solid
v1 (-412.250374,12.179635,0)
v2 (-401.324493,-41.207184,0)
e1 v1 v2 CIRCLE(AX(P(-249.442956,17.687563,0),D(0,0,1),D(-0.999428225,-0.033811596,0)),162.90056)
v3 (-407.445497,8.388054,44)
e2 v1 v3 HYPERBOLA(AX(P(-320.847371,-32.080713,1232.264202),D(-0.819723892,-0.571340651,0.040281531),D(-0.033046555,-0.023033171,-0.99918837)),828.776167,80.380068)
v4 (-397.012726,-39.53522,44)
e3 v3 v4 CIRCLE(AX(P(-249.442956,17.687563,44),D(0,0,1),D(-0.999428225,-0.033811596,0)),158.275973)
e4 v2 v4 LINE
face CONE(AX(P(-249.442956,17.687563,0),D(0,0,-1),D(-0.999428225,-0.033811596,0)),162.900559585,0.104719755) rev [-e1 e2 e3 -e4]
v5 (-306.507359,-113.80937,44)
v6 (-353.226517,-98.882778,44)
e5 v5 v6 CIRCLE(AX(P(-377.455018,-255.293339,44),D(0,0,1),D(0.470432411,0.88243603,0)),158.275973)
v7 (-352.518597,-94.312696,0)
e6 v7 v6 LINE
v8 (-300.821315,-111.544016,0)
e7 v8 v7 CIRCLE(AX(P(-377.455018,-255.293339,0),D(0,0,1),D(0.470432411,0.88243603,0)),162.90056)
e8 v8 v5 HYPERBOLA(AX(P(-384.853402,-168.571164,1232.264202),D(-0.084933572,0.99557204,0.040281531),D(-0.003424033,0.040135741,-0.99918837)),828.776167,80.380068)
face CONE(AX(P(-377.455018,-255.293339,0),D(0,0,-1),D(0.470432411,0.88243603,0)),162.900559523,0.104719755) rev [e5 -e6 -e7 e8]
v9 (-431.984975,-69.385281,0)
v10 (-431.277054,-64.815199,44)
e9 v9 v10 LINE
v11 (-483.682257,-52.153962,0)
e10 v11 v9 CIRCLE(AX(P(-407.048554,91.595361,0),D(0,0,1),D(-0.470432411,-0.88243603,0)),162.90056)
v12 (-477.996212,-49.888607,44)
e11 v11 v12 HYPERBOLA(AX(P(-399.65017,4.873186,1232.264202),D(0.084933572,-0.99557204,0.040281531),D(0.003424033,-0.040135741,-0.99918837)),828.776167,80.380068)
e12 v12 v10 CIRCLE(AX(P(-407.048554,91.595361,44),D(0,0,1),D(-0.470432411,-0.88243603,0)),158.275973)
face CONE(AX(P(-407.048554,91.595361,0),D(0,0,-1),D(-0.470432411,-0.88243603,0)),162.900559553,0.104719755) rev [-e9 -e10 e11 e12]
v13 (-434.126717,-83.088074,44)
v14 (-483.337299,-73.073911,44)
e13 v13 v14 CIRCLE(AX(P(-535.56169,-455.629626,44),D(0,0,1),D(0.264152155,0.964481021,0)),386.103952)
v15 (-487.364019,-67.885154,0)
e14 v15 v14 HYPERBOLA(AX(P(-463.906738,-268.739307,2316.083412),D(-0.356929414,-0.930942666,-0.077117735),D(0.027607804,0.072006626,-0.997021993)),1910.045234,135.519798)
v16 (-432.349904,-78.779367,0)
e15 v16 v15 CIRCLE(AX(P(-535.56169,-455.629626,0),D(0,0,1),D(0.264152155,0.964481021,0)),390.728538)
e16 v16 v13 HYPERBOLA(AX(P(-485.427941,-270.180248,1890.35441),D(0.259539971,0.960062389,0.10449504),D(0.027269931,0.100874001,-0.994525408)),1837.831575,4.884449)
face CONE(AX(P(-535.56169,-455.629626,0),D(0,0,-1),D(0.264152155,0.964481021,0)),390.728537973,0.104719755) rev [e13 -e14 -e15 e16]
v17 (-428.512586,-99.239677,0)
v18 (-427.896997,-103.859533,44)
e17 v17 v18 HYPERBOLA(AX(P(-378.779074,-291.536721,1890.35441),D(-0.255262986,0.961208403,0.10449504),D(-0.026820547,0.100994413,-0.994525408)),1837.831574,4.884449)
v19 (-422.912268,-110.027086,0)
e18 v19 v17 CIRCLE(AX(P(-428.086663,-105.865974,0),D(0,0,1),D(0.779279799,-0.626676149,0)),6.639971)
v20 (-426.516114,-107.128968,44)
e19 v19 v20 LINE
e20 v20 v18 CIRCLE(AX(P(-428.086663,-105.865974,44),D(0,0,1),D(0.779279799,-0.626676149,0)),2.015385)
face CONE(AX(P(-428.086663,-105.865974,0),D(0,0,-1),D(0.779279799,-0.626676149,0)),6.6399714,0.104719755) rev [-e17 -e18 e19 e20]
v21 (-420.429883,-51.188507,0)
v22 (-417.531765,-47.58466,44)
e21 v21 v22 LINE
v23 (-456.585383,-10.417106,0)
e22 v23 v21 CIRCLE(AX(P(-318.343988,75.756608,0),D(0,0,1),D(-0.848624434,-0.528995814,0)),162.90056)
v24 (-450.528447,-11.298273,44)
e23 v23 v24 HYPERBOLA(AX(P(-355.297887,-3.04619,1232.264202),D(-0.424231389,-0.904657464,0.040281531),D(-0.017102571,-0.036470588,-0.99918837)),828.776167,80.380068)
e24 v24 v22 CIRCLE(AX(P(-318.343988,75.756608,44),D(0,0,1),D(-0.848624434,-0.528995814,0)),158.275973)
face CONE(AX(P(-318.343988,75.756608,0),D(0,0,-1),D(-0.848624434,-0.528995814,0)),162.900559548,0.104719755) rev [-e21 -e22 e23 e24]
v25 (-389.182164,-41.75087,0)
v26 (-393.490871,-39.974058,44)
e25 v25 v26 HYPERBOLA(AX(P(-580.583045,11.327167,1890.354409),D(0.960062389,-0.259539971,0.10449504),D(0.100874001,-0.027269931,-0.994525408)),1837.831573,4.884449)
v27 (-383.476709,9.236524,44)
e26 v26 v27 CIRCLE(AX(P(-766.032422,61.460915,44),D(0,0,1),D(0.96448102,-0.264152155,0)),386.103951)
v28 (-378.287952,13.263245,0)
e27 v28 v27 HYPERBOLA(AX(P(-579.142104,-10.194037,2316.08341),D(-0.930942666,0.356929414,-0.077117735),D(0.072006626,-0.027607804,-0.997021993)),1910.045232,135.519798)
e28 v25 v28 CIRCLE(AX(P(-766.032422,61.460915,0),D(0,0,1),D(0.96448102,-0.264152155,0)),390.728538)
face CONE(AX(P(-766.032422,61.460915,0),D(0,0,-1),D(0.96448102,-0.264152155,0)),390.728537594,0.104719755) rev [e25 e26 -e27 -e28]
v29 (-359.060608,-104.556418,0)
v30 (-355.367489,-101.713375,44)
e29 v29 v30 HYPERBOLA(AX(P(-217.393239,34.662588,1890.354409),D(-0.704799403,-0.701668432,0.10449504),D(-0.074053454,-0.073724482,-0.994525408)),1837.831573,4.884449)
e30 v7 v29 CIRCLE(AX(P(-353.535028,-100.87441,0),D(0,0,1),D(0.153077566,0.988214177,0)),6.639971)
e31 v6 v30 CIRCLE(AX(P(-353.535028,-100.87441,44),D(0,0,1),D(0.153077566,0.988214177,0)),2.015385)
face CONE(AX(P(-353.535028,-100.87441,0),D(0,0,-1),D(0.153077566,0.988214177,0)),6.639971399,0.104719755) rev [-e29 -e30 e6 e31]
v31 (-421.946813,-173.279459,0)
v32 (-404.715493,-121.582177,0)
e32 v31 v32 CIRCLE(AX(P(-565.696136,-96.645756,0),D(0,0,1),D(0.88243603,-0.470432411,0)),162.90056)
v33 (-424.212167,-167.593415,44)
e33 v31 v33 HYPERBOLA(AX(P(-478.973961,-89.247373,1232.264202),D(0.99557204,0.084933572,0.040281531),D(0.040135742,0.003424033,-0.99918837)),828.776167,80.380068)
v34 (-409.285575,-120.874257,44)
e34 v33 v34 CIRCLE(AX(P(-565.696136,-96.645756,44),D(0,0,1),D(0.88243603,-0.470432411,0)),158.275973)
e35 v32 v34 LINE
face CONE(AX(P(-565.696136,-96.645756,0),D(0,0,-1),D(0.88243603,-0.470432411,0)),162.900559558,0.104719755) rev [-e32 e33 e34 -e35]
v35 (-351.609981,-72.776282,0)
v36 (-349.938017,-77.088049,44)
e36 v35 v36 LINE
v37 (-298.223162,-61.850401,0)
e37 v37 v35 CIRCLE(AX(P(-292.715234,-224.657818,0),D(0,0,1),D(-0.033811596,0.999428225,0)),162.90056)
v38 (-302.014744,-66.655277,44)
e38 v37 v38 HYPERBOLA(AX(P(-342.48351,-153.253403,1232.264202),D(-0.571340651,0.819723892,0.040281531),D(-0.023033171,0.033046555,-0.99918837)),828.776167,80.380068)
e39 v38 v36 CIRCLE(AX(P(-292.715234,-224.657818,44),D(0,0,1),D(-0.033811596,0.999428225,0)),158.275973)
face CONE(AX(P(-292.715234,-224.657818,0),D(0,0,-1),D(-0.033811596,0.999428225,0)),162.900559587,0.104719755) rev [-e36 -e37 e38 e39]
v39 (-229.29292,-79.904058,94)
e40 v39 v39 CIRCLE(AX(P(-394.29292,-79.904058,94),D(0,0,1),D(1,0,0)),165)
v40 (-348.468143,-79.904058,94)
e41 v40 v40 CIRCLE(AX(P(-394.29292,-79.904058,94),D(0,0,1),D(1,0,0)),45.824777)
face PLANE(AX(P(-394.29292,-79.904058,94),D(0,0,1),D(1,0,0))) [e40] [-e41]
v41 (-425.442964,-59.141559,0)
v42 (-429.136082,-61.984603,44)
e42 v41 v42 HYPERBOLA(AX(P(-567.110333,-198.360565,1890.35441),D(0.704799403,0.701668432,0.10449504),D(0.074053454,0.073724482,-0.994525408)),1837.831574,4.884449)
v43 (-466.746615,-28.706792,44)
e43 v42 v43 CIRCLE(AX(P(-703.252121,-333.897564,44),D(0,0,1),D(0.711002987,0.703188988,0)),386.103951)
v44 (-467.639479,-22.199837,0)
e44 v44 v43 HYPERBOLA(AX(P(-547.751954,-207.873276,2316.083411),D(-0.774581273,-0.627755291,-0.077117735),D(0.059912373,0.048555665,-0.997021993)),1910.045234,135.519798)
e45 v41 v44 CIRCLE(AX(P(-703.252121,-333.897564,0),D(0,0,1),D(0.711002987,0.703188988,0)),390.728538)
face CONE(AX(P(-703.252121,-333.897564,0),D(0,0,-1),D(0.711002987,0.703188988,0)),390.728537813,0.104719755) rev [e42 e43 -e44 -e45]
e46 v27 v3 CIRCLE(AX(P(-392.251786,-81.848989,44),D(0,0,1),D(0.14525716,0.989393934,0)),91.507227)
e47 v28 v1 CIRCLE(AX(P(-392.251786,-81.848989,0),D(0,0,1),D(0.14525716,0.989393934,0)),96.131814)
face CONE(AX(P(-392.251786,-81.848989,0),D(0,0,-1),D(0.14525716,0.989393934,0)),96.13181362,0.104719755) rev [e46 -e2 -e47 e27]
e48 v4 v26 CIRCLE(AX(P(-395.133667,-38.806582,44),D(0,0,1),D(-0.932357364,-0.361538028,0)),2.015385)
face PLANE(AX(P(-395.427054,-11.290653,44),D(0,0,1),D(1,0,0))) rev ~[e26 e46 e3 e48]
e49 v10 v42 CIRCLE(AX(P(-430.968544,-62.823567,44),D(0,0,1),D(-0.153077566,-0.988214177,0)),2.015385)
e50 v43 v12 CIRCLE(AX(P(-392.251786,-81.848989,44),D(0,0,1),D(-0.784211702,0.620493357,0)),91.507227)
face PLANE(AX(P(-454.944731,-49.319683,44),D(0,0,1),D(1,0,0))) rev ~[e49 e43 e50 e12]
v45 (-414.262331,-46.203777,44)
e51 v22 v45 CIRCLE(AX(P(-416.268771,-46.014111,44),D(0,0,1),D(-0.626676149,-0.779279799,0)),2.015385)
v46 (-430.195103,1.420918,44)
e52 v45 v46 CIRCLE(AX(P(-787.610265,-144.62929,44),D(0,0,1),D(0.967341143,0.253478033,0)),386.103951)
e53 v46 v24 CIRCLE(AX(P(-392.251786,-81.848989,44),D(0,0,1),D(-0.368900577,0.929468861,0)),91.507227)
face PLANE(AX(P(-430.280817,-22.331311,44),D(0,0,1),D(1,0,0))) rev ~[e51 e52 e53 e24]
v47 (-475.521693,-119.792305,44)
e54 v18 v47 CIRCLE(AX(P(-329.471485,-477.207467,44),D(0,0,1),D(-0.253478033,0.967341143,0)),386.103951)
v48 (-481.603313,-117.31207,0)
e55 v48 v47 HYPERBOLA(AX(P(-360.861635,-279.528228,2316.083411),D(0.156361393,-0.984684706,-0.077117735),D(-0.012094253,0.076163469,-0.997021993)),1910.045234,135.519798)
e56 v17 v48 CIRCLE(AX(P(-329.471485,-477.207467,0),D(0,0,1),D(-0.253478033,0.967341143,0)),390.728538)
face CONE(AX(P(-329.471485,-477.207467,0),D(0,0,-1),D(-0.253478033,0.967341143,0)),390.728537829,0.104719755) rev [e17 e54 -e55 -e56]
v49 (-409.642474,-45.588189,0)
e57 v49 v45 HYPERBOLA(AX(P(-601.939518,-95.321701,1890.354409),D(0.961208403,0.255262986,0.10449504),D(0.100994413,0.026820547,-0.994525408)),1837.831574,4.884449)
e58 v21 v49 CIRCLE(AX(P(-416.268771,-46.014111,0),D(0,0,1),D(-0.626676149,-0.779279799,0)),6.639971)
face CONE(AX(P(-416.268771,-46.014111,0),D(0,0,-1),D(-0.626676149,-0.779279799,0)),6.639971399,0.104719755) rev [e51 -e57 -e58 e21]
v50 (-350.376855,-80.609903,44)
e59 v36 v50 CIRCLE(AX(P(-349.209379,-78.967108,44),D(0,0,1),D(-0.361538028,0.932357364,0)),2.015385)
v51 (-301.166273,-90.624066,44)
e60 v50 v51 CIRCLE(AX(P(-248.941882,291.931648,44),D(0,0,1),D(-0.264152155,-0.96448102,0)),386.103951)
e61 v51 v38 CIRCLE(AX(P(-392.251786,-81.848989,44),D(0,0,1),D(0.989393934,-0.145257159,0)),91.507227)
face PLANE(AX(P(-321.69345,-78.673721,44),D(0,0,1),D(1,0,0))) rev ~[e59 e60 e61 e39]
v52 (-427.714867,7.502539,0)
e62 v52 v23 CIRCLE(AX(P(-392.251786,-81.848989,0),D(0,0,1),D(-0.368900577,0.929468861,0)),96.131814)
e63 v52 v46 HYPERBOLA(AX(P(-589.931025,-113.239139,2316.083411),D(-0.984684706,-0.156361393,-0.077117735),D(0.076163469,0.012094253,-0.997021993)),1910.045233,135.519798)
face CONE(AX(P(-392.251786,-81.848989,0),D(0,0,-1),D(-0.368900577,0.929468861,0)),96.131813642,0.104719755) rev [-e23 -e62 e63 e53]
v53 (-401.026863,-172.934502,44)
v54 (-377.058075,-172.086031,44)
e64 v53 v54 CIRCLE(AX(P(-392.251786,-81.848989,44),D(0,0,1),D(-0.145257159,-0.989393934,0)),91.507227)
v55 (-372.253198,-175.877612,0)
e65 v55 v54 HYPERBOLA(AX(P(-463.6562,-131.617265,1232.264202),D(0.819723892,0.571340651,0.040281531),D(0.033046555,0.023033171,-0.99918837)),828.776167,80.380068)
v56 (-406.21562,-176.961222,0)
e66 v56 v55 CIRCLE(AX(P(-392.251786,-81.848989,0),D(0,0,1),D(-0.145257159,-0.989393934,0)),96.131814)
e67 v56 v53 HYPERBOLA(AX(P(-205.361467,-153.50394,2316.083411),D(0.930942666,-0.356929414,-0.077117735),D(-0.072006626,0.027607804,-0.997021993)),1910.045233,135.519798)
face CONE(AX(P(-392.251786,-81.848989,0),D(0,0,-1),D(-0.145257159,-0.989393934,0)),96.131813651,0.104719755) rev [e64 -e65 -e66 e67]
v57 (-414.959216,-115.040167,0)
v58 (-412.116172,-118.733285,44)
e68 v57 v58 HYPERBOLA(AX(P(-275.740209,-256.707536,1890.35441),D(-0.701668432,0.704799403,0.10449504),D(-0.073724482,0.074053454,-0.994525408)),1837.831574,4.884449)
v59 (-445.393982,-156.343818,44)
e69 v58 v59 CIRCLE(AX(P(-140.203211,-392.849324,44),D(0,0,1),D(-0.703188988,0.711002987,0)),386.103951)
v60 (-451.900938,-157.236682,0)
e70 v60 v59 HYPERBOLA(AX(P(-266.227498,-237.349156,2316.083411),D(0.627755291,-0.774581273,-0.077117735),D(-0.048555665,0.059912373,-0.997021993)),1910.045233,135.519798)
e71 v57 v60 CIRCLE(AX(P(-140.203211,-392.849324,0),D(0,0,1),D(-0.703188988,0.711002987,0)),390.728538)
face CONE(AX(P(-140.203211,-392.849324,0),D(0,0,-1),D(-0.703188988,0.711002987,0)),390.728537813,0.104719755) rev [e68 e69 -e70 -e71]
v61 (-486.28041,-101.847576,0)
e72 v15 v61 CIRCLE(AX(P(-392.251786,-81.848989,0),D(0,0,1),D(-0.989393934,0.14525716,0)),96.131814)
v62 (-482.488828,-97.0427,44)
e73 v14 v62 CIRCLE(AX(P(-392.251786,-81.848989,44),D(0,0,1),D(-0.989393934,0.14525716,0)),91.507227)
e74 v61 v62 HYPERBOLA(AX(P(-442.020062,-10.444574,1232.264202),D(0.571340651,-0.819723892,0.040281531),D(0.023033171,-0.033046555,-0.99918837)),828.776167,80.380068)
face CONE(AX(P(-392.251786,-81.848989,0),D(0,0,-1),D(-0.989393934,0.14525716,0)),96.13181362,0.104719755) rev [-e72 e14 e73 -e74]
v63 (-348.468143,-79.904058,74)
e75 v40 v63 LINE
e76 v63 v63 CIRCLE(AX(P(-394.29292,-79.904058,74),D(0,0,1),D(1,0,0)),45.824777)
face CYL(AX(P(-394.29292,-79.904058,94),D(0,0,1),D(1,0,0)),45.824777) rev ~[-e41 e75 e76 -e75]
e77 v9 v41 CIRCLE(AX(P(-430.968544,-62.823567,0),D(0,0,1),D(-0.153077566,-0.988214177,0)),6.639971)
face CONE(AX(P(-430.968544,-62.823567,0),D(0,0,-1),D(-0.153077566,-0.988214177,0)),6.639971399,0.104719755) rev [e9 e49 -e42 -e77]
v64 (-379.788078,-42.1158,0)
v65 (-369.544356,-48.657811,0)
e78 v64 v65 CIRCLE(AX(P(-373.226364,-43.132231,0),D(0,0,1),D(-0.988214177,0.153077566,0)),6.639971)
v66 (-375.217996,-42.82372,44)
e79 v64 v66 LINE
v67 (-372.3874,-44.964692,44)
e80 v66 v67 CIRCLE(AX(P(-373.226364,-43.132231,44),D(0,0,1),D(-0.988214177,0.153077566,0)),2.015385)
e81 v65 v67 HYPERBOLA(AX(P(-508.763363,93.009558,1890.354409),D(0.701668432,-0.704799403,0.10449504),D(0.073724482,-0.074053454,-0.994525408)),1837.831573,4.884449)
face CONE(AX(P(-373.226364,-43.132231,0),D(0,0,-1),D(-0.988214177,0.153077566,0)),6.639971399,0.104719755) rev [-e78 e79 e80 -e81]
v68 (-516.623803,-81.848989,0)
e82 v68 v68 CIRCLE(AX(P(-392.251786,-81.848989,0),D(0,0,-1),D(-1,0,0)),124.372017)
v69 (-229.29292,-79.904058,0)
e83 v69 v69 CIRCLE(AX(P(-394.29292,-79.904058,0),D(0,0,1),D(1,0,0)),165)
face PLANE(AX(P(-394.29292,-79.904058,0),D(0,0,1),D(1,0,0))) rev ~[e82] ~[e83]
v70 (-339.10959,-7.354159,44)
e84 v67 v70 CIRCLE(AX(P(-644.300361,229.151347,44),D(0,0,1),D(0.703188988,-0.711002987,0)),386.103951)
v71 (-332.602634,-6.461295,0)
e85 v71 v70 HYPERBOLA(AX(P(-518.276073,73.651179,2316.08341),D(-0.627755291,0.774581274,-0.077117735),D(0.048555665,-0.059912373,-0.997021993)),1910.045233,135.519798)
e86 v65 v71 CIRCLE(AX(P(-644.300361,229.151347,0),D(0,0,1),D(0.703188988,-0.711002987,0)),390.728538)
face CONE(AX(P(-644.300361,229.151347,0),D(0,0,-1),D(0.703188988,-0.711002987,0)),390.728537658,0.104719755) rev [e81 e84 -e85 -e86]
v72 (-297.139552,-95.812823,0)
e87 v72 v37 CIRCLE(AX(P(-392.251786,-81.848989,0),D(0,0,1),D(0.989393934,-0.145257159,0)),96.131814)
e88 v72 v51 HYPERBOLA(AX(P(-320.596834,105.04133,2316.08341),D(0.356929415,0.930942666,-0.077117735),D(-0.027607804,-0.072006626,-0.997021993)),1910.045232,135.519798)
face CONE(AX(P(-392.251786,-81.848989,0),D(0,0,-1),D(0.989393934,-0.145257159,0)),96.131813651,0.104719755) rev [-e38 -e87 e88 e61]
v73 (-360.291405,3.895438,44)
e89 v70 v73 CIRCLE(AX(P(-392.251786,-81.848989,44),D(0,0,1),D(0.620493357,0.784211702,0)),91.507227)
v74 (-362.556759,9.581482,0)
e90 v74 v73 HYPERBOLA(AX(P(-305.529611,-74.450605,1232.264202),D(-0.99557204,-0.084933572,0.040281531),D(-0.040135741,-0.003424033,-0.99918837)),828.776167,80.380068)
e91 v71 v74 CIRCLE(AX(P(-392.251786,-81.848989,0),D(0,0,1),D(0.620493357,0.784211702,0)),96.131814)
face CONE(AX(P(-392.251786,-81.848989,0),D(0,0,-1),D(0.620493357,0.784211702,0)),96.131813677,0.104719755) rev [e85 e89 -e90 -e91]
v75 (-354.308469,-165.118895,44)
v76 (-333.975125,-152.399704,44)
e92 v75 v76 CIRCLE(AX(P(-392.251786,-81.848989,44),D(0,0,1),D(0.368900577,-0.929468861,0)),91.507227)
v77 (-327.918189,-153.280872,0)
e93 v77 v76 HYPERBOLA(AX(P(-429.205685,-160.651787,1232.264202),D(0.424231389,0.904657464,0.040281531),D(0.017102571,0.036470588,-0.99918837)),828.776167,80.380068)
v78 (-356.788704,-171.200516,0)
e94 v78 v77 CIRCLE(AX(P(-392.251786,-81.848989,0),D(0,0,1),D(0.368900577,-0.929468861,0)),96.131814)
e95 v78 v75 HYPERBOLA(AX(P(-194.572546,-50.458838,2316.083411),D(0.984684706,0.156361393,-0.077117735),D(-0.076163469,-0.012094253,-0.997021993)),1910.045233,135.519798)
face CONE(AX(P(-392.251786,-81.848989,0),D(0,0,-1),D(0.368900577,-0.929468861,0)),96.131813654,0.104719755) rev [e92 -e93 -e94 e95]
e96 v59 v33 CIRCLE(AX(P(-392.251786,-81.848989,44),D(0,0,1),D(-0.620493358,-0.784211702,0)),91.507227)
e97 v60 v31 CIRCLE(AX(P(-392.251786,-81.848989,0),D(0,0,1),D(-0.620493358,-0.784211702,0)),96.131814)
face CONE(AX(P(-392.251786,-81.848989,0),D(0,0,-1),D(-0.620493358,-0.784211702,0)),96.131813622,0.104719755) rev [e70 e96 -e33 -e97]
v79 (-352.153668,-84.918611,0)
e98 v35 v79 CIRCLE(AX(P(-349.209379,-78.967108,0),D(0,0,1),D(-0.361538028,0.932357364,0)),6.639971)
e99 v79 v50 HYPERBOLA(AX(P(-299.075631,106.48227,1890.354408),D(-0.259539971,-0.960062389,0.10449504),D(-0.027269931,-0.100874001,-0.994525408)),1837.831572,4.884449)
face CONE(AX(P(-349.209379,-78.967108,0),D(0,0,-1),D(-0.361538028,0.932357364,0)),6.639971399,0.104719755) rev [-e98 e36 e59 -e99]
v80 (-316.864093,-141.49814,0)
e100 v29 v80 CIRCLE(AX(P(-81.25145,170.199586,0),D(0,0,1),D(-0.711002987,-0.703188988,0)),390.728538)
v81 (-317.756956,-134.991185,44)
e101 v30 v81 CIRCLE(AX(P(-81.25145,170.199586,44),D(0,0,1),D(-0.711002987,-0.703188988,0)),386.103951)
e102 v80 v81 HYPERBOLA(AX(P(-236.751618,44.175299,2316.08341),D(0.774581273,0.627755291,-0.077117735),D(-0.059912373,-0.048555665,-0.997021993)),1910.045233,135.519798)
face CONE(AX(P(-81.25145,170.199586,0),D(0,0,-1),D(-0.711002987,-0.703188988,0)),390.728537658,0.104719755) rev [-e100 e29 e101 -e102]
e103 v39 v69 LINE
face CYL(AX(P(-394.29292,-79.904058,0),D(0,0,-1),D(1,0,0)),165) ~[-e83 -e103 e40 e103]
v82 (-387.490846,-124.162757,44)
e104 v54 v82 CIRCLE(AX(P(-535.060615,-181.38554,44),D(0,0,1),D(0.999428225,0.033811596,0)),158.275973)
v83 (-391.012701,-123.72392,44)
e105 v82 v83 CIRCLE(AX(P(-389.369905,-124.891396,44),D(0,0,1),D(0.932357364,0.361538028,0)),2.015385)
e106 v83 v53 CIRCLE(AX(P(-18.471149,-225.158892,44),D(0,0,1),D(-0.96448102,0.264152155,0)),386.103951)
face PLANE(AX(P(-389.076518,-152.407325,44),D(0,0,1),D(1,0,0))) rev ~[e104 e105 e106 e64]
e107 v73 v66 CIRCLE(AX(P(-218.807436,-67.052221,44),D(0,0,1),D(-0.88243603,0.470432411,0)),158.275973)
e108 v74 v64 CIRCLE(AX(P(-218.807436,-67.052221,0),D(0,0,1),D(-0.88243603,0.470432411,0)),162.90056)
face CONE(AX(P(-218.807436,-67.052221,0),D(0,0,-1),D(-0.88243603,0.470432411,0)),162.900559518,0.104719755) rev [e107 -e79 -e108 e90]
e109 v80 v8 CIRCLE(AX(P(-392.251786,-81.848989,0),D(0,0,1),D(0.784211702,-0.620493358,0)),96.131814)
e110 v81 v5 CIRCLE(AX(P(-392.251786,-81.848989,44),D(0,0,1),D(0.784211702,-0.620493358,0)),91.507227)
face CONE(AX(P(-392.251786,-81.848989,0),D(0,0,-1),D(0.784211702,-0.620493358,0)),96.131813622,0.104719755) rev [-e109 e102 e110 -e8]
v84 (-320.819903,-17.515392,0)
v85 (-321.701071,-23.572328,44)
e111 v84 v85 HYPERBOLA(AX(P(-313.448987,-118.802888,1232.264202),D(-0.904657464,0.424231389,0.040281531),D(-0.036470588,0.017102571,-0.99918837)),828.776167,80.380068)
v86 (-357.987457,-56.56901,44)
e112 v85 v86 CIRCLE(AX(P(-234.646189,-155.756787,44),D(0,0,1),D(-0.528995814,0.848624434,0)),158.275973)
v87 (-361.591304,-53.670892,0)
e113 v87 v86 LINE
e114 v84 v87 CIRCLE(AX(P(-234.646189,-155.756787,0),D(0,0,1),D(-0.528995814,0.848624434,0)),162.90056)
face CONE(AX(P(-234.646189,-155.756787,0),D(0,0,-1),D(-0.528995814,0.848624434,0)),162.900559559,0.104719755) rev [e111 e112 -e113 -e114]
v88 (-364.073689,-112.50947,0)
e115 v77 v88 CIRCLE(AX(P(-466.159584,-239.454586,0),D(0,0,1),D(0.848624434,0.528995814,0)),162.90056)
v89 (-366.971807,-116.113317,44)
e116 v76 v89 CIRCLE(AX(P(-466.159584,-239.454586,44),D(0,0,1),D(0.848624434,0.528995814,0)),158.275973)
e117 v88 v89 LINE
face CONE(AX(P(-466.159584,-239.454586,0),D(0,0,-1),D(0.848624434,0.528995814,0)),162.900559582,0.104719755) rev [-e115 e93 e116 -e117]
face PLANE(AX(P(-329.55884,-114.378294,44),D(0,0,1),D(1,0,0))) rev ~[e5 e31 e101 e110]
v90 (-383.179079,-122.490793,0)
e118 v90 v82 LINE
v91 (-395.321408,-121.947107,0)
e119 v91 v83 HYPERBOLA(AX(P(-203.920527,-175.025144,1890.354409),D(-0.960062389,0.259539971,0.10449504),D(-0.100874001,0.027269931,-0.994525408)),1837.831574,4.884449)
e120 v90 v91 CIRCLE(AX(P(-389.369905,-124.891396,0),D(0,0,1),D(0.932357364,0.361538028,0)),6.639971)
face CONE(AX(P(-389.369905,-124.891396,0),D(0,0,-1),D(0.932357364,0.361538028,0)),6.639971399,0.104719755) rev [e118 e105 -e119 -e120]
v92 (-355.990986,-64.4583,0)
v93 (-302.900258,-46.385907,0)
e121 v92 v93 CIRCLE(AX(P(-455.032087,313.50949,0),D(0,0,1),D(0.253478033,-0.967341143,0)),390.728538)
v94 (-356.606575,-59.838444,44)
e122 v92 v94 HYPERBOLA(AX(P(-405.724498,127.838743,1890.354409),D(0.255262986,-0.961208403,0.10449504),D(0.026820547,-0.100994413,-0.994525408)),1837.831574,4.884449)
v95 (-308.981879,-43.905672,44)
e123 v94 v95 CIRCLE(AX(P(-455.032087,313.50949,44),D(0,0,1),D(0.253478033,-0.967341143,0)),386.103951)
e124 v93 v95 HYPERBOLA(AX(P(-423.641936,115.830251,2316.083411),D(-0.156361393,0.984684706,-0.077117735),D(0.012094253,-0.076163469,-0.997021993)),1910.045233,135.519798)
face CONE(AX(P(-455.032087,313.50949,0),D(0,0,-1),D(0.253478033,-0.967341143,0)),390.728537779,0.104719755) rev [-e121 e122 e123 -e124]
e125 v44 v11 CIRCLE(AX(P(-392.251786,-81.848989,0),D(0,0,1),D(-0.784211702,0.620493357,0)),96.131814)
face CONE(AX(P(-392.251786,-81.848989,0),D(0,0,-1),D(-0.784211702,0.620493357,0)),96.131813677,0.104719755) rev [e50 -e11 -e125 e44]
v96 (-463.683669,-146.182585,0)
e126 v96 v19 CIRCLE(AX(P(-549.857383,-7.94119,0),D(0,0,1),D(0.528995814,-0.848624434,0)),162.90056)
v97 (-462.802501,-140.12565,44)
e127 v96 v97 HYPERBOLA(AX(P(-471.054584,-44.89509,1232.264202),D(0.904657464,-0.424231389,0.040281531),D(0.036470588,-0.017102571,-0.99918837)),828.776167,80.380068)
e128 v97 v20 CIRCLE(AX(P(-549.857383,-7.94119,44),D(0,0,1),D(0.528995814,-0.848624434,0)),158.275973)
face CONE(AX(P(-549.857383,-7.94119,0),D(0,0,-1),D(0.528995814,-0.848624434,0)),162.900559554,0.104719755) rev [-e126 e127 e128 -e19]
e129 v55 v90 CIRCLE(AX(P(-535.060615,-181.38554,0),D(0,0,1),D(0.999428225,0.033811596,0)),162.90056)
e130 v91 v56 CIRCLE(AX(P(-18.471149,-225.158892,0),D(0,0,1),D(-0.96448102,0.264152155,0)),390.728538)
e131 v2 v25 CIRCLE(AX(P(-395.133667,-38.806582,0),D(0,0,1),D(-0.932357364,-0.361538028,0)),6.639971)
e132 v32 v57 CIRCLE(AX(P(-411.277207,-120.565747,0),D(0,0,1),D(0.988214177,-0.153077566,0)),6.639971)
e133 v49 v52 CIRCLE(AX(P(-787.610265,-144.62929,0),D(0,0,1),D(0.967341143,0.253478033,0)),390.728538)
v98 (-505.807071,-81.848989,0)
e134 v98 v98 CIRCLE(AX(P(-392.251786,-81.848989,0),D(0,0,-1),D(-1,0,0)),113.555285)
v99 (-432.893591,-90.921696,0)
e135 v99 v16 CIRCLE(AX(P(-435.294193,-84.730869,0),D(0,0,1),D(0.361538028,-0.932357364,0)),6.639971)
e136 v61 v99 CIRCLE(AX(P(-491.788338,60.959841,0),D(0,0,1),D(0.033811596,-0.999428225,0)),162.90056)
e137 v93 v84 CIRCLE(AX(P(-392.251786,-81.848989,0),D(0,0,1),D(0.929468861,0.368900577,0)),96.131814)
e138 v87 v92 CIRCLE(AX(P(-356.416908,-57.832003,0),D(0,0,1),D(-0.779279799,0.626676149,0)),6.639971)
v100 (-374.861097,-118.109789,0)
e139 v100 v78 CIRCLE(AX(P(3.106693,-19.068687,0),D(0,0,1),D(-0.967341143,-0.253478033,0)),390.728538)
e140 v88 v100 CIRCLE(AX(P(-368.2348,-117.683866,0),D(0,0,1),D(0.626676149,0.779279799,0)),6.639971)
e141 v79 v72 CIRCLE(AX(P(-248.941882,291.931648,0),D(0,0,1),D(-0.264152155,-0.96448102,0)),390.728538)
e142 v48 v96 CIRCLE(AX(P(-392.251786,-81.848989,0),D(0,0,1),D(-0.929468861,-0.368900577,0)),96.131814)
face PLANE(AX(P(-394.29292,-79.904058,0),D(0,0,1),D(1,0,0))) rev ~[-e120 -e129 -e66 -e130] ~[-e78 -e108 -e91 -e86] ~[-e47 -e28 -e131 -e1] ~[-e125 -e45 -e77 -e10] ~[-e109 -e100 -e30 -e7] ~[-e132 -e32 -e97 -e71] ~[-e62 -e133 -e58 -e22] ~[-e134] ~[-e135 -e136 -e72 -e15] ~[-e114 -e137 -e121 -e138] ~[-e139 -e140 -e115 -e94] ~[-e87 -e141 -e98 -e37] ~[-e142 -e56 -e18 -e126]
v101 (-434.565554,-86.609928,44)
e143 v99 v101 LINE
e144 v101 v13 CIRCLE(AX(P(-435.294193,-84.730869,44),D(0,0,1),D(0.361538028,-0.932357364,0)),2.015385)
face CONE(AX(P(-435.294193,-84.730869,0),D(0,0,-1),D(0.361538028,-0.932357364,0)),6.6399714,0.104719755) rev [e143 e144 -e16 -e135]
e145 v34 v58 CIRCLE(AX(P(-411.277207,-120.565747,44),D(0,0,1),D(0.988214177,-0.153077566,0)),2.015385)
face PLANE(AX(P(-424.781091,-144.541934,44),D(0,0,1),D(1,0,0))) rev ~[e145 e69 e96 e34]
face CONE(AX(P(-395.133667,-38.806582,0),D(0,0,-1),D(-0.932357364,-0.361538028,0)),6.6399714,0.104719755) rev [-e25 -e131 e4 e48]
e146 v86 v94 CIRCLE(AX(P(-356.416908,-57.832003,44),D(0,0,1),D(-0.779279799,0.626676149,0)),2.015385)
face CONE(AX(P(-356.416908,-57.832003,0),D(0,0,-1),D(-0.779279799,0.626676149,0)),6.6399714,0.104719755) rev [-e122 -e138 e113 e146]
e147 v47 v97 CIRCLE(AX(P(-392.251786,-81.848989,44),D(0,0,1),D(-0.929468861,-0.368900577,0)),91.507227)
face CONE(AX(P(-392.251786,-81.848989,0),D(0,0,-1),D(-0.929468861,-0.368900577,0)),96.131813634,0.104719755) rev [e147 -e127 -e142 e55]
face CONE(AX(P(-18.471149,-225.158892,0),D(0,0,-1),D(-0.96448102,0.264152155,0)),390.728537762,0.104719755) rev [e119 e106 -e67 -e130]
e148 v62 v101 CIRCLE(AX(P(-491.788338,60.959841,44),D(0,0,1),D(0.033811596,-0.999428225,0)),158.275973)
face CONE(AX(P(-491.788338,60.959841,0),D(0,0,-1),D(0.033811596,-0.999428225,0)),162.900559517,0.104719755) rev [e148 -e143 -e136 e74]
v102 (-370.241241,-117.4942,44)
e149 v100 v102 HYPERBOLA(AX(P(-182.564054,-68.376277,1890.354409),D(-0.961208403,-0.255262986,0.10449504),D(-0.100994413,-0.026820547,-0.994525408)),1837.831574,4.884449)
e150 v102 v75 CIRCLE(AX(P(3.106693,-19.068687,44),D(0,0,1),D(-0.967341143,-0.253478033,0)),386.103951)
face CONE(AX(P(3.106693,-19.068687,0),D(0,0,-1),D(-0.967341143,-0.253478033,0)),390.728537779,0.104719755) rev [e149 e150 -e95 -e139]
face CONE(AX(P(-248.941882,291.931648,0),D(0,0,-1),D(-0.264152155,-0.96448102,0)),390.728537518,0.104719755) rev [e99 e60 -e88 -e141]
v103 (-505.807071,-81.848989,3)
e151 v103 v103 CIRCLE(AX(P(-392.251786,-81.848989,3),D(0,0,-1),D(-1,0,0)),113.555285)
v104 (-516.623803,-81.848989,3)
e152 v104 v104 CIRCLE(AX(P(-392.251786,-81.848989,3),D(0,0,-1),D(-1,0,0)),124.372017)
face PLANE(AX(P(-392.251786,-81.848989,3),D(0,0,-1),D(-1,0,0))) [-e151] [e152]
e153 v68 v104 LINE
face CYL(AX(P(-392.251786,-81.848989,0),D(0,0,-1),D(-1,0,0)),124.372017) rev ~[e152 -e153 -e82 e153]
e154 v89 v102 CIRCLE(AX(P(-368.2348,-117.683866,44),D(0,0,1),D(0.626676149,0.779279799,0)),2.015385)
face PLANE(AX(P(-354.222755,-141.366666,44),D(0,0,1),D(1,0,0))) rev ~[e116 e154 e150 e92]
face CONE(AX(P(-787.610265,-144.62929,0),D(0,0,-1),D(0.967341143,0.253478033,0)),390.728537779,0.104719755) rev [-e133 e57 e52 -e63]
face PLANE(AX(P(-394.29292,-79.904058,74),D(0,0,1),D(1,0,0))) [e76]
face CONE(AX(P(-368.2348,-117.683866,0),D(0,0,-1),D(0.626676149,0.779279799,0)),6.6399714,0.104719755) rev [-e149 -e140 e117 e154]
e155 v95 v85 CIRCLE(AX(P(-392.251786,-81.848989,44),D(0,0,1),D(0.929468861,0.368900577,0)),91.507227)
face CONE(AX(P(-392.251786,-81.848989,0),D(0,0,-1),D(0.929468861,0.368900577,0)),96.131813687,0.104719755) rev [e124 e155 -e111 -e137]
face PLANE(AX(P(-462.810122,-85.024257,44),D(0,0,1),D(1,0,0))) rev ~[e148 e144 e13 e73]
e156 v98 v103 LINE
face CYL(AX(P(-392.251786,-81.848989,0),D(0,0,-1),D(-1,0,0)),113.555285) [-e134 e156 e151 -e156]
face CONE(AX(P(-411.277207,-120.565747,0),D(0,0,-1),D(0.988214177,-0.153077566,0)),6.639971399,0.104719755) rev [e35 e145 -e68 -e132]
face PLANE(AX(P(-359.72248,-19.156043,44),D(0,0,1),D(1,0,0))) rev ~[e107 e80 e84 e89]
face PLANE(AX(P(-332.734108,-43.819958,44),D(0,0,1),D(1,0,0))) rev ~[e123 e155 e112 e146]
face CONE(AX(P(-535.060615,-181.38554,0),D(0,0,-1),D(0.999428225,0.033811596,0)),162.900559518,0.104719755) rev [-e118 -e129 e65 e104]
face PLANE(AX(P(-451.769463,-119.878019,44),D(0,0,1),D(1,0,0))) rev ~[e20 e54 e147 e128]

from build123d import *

# Parameters (mm, degrees)
SKETCH1_R                     = 165
BOSS_EXTRUDE1_DEPTH           = 94
CUT_EXTRUDE7_DEPTH            = 44
CUT_EXTRUDE7_DRAFT            = 6
CUT_EXTRUDE7_PROFILE_2_DEPTH  = 44
CUT_EXTRUDE7_PROFILE_2_DRAFT  = 6
CUT_EXTRUDE7_PROFILE_3_DEPTH  = 44
CUT_EXTRUDE7_PROFILE_3_DRAFT  = 6
CUT_EXTRUDE7_PROFILE_4_DEPTH  = 44
CUT_EXTRUDE7_PROFILE_4_DRAFT  = 6
CUT_EXTRUDE7_PROFILE_5_DEPTH  = 44
CUT_EXTRUDE7_PROFILE_5_DRAFT  = 6
CUT_EXTRUDE7_PROFILE_6_DEPTH  = 44
CUT_EXTRUDE7_PROFILE_6_DRAFT  = 6
CUT_EXTRUDE7_PROFILE_7_DEPTH  = 44
CUT_EXTRUDE7_PROFILE_7_DRAFT  = 6
CUT_EXTRUDE7_PROFILE_8_DEPTH  = 44
CUT_EXTRUDE7_PROFILE_8_DRAFT  = 6
CUT_EXTRUDE7_PROFILE_9_DEPTH  = 44
CUT_EXTRUDE7_PROFILE_9_DRAFT  = 6
CUT_EXTRUDE7_PROFILE_10_DEPTH = 44
CUT_EXTRUDE7_PROFILE_10_DRAFT = 6
CUT_EXTRUDE7_PROFILE_11_DEPTH = 44
CUT_EXTRUDE7_PROFILE_11_DRAFT = 6
CUT_EXTRUDE7_PROFILE_12_DEPTH = 44
CUT_EXTRUDE7_PROFILE_12_DRAFT = 6
SKETCH3_R                     = 124.372017203
SKETCH3_R_2                   = 113.555284958
CUT_EXTRUDE8_DEPTH            = 3
SKETCH4_OUTSIDE_W             = 427.212
SKETCH4_OUTSIDE_H             = 427.212
SKETCH4_OUTSIDE_R             = 165
SKETCH4_OUTSIDE_R_2           = 45.82477688
CUT_EXTRUDE9_DEPTH            = 20


with BuildPart() as part:
    # Sketch1 → Boss-Extrude1 (new body)
    with BuildSketch(Plane.XY):
        with Locations((-394.292920308, -79.904057714)):
            Circle(SKETCH1_R)
    extrude(amount=BOSS_EXTRUDE1_DEPTH)


with BuildPart() as cut_extrude7_tool:
    # Sketch2 → Cut-Extrude7 (with draft: the straight prism first)
    with BuildSketch(Plane.XY):
        with BuildLine():
            ThreePointArc((-467.639479029, -22.199836842), (-476.994852518, -36.462446087), (-483.682256538, -52.153961727))
            ThreePointArc((-483.682256538, -52.153961727), (-458.559252612, -62.946672421), (-431.984974644, -69.385281038))
            ThreePointArc((-431.984974644, -69.385281038), (-425.372423175, -66.397451896), (-425.442963934, -59.14155885))
            ThreePointArc((-425.442963934, -59.14155885), (-445.877571681, -39.912646859), (-467.639479029, -22.199836842))
        make_face()
    extrude(amount=CUT_EXTRUDE7_DEPTH)
    # Cut-Extrude7: the draft: its side faces are tilted about the plane it starts from
    cut_extrude7_sides = [cut_extrude7_tool.faces().sort_by_distance(p)[0] for p in [
        (-476.994852518, -36.462446087, 22),
        (-458.559252612, -62.946672421, 22),
        (-425.372423175, -66.397451896, 22),
        (-445.877571681, -39.912646859, 22),
    ]]
    draft(cut_extrude7_sides, Plane.XY, CUT_EXTRUDE7_DRAFT)


with BuildPart() as part_1:
    add(part.part)

    # Cut-Extrude7: cut by cut_extrude7_tool
    add(cut_extrude7_tool.part, mode=Mode.SUBTRACT)


with BuildPart() as cut_extrude7_profile_2_tool:
    # Sketch2 → Cut-Extrude7 profile 2 (with draft: the straight prism first)
    with BuildSketch(Plane.XY):
        with BuildLine():
            ThreePointArc((-487.36401918, -67.885154466), (-488.334705662, -84.914623141), (-486.280409608, -101.847576319))
            ThreePointArc((-486.280409608, -101.847576319), (-459.126894641, -98.632835993), (-432.893590526, -90.921695636))
            ThreePointArc((-432.893590526, -90.921695636), (-428.660867541, -85.027883963), (-432.349904153, -78.779366636))
            ThreePointArc((-432.349904153, -78.779366636), (-459.661249574, -72.343944239), (-487.36401918, -67.885154466))
        make_face()
    extrude(amount=CUT_EXTRUDE7_PROFILE_2_DEPTH)
    # Cut-Extrude7 profile 2: the draft: its side faces are tilted about the plane it starts from
    cut_extrude7_profile_2_sides = [cut_extrude7_profile_2_tool.faces().sort_by_distance(p)[0] for p in [
        (-488.334705662, -84.914623141, 22),
        (-459.126894641, -98.632835993, 22),
        (-428.660867541, -85.027883963, 22),
        (-459.661249574, -72.343944239, 22),
    ]]
    draft(cut_extrude7_profile_2_sides, Plane.XY, CUT_EXTRUDE7_PROFILE_2_DRAFT)


with BuildPart() as part_2:
    add(part_1.part)

    # Cut-Extrude7 profile 2: cut by cut_extrude7_profile_2_tool
    add(cut_extrude7_profile_2_tool.part, mode=Mode.SUBTRACT)


with BuildPart() as cut_extrude7_profile_3_tool:
    # Sketch2 → Cut-Extrude7 profile 3 (with draft: the straight prism first)
    with BuildSketch(Plane.XY):
        with BuildLine():
            ThreePointArc((-427.714867368, 7.502538725), (-442.948163094, -0.171556461), (-456.58538268, -10.41710562))
            ThreePointArc((-456.58538268, -10.41710562), (-440.224578408, -32.325369219), (-420.429882909, -51.18850683))
            ThreePointArc((-420.429882909, -51.18850683), (-413.209330783, -51.907246626), (-409.642474348, -45.588188541))
            ThreePointArc((-409.642474348, -45.588188541), (-417.724907778, -18.718158396), (-427.714867368, 7.502538725))
        make_face()
    extrude(amount=CUT_EXTRUDE7_PROFILE_3_DEPTH)
    # Cut-Extrude7 profile 3: the draft: its side faces are tilted about the plane it starts from
    cut_extrude7_profile_3_sides = [cut_extrude7_profile_3_tool.faces().sort_by_distance(p)[0] for p in [
        (-442.948163094, -0.171556461, 22),
        (-440.224578408, -32.325369219, 22),
        (-413.209330783, -51.907246626, 22),
        (-417.724907778, -18.718158396, 22),
    ]]
    draft(cut_extrude7_profile_3_sides, Plane.XY, CUT_EXTRUDE7_PROFILE_3_DRAFT)


with BuildPart() as part_3:
    add(part_2.part)

    # Cut-Extrude7 profile 3: cut by cut_extrude7_profile_3_tool
    add(cut_extrude7_profile_3_tool.part, mode=Mode.SUBTRACT)


with BuildPart() as cut_extrude7_profile_4_tool:
    # Sketch2 → Cut-Extrude7 profile 4 (with draft: the straight prism first)
    with BuildSketch(Plane.XY):
        with BuildLine():
            ThreePointArc((-378.28795165, 13.263244687), (-395.317420325, 14.233931169), (-412.250373503, 12.179635115))
            ThreePointArc((-412.250373503, 12.179635115), (-409.035633176, -14.973879852), (-401.32449282, -41.207183967))
            ThreePointArc((-401.32449282, -41.207183967), (-395.430681147, -45.439906952), (-389.18216382, -41.75087034))
            ThreePointArc((-389.18216382, -41.75087034), (-382.746741422, -14.439524919), (-378.28795165, 13.263244687))
        make_face()
    extrude(amount=CUT_EXTRUDE7_PROFILE_4_DEPTH)
    # Cut-Extrude7 profile 4: the draft: its side faces are tilted about the plane it starts from
    cut_extrude7_profile_4_sides = [cut_extrude7_profile_4_tool.faces().sort_by_distance(p)[0] for p in [
        (-395.317420325, 14.233931169, 22),
        (-409.035633176, -14.973879852, 22),
        (-395.430681147, -45.439906952, 22),
        (-382.746741422, -14.439524919, 22),
    ]]
    draft(cut_extrude7_profile_4_sides, Plane.XY, CUT_EXTRUDE7_PROFILE_4_DRAFT)


with BuildPart() as part_4:
    add(part_3.part)

    # Cut-Extrude7 profile 4: cut by cut_extrude7_profile_4_tool
    add(cut_extrude7_profile_4_tool.part, mode=Mode.SUBTRACT)


with BuildPart() as cut_extrude7_profile_5_tool:
    # Sketch2 → Cut-Extrude7 profile 5 (with draft: the straight prism first)
    with BuildSketch(Plane.XY):
        with BuildLine():
            ThreePointArc((-332.602634026, -6.461295464), (-346.865243271, 2.894078025), (-362.556758911, 9.581482045))
            ThreePointArc((-362.556758911, 9.581482045), (-373.349469605, -15.541521881), (-379.788078221, -42.115799849))
            ThreePointArc((-379.788078221, -42.115799849), (-376.80024908, -48.728351317), (-369.544356033, -48.657810559))
            ThreePointArc((-369.544356033, -48.657810559), (-350.315444042, -28.223202812), (-332.602634026, -6.461295464))
        make_face()
    extrude(amount=CUT_EXTRUDE7_PROFILE_5_DEPTH)
    # Cut-Extrude7 profile 5: the draft: its side faces are tilted about the plane it starts from
    cut_extrude7_profile_5_sides = [cut_extrude7_profile_5_tool.faces().sort_by_distance(p)[0] for p in [
        (-350.315444042, -28.223202812, 22),
        (-346.865243271, 2.894078025, 22),
        (-373.349469605, -15.541521881, 22),
        (-376.80024908, -48.728351317, 22),
    ]]
    draft(cut_extrude7_profile_5_sides, Plane.XY, CUT_EXTRUDE7_PROFILE_5_DRAFT)


with BuildPart() as part_5:
    add(part_4.part)

    # Cut-Extrude7 profile 5: cut by cut_extrude7_profile_5_tool
    add(cut_extrude7_profile_5_tool.part, mode=Mode.SUBTRACT)


with BuildPart() as cut_extrude7_profile_6_tool:
    # Sketch2 → Cut-Extrude7 profile 6 (with draft: the straight prism first)
    with BuildSketch(Plane.XY):
        with BuildLine():
            ThreePointArc((-302.900258459, -46.385907125), (-310.574353645, -31.152611399), (-320.819902803, -17.515391812))
            ThreePointArc((-320.819902803, -17.515391812), (-342.728166403, -33.876196085), (-361.591304014, -53.670891584))
            ThreePointArc((-361.591304014, -53.670891584), (-362.310043809, -60.89144371), (-355.990985725, -64.458300145))
            ThreePointArc((-355.990985725, -64.458300145), (-329.12095558, -56.375866715), (-302.900258459, -46.385907125))
        make_face()
    extrude(amount=CUT_EXTRUDE7_PROFILE_6_DEPTH)
    # Cut-Extrude7 profile 6: the draft: its side faces are tilted about the plane it starts from
    cut_extrude7_profile_6_sides = [cut_extrude7_profile_6_tool.faces().sort_by_distance(p)[0] for p in [
        (-310.574353645, -31.152611399, 22),
        (-342.728166403, -33.876196085, 22),
        (-362.310043809, -60.89144371, 22),
        (-329.12095558, -56.375866715, 22),
    ]]
    draft(cut_extrude7_profile_6_sides, Plane.XY, CUT_EXTRUDE7_PROFILE_6_DRAFT)


with BuildPart() as part_6:
    add(part_5.part)

    # Cut-Extrude7 profile 6: cut by cut_extrude7_profile_6_tool
    add(cut_extrude7_profile_6_tool.part, mode=Mode.SUBTRACT)


with BuildPart() as cut_extrude7_profile_7_tool:
    # Sketch2 → Cut-Extrude7 profile 7 (with draft: the straight prism first)
    with BuildSketch(Plane.XY):
        with BuildLine():
            ThreePointArc((-297.139552496, -95.812822843), (-296.168866015, -78.783354168), (-298.223162069, -61.85040099))
            ThreePointArc((-298.223162069, -61.85040099), (-325.376677035, -65.065141317), (-351.60998115, -72.776281673))
            ThreePointArc((-351.60998115, -72.776281673), (-355.842704136, -78.670093346), (-352.153667523, -84.918610673))
            ThreePointArc((-352.153667523, -84.918610673), (-324.842322103, -91.354033071), (-297.139552496, -95.812822843))
        make_face()
    extrude(amount=CUT_EXTRUDE7_PROFILE_7_DEPTH)
    # Cut-Extrude7 profile 7: the draft: its side faces are tilted about the plane it starts from
    cut_extrude7_profile_7_sides = [cut_extrude7_profile_7_tool.faces().sort_by_distance(p)[0] for p in [
        (-355.842704136, -78.670093346, 22),
        (-324.842322103, -91.354033071, 22),
        (-296.168866015, -78.783354168, 22),
        (-325.376677035, -65.065141317, 22),
    ]]
    draft(cut_extrude7_profile_7_sides, Plane.XY, CUT_EXTRUDE7_PROFILE_7_DRAFT)


with BuildPart() as part_7:
    add(part_6.part)

    # Cut-Extrude7 profile 7: cut by cut_extrude7_profile_7_tool
    add(cut_extrude7_profile_7_tool.part, mode=Mode.SUBTRACT)


with BuildPart() as cut_extrude7_profile_8_tool:
    # Sketch2 → Cut-Extrude7 profile 8 (with draft: the straight prism first)
    with BuildSketch(Plane.XY):
        with BuildLine():
            ThreePointArc((-316.864092648, -141.498140467), (-307.508719158, -127.235531222), (-300.821315139, -111.544015582))
            ThreePointArc((-300.821315139, -111.544015582), (-325.944319065, -100.751304888), (-352.518597032, -94.312696272))
            ThreePointArc((-352.518597032, -94.312696272), (-359.131148501, -97.300525413), (-359.060607743, -104.55641846))
            ThreePointArc((-359.060607743, -104.55641846), (-338.625999996, -123.785330451), (-316.864092648, -141.498140467))
        make_face()
    extrude(amount=CUT_EXTRUDE7_PROFILE_8_DEPTH)
    # Cut-Extrude7 profile 8: the draft: its side faces are tilted about the plane it starts from
    cut_extrude7_profile_8_sides = [cut_extrude7_profile_8_tool.faces().sort_by_distance(p)[0] for p in [
        (-338.625999996, -123.785330451, 22),
        (-307.508719158, -127.235531222, 22),
        (-325.944319065, -100.751304888, 22),
        (-359.131148501, -97.300525413, 22),
    ]]
    draft(cut_extrude7_profile_8_sides, Plane.XY, CUT_EXTRUDE7_PROFILE_8_DRAFT)


with BuildPart() as part_8:
    add(part_7.part)

    # Cut-Extrude7 profile 8: cut by cut_extrude7_profile_8_tool
    add(cut_extrude7_profile_8_tool.part, mode=Mode.SUBTRACT)


with BuildPart() as cut_extrude7_profile_9_tool:
    # Sketch2 → Cut-Extrude7 profile 9 (with draft: the straight prism first)
    with BuildSketch(Plane.XY):
        with BuildLine():
            ThreePointArc((-356.788704309, -171.200516034), (-341.555408582, -163.526420848), (-327.918188996, -153.28087169))
            ThreePointArc((-327.918188996, -153.28087169), (-344.278993269, -131.37260809), (-364.073688767, -112.509470479))
            ThreePointArc((-364.073688767, -112.509470479), (-371.294240894, -111.790730683), (-374.861097329, -118.109788768))
            ThreePointArc((-374.861097329, -118.109788768), (-366.778663899, -144.979818913), (-356.788704309, -171.200516034))
        make_face()
    extrude(amount=CUT_EXTRUDE7_PROFILE_9_DEPTH)
    # Cut-Extrude7 profile 9: the draft: its side faces are tilted about the plane it starts from
    cut_extrude7_profile_9_sides = [cut_extrude7_profile_9_tool.faces().sort_by_distance(p)[0] for p in [
        (-366.778663899, -144.979818913, 22),
        (-341.555408582, -163.526420848, 22),
        (-344.278993269, -131.37260809, 22),
        (-371.294240894, -111.790730683, 22),
    ]]
    draft(cut_extrude7_profile_9_sides, Plane.XY, CUT_EXTRUDE7_PROFILE_9_DRAFT)


with BuildPart() as part_9:
    add(part_8.part)

    # Cut-Extrude7 profile 9: cut by cut_extrude7_profile_9_tool
    add(cut_extrude7_profile_9_tool.part, mode=Mode.SUBTRACT)


with BuildPart() as cut_extrude7_profile_10_tool:
    # Sketch2 → Cut-Extrude7 profile 10 (with draft: the straight prism first)
    with BuildSketch(Plane.XY):
        with BuildLine():
            ThreePointArc((-406.215620027, -176.961221997), (-389.186151352, -177.931908478), (-372.253198174, -175.877612424))
            ThreePointArc((-372.253198174, -175.877612424), (-375.4679385, -148.724097458), (-383.179078857, -122.490793343))
            ThreePointArc((-383.179078857, -122.490793343), (-389.07289053, -118.258070357), (-395.321407856, -121.947106969))
            ThreePointArc((-395.321407856, -121.947106969), (-401.756830254, -149.25845239), (-406.215620027, -176.961221997))
        make_face()
    extrude(amount=CUT_EXTRUDE7_PROFILE_10_DEPTH)
    # Cut-Extrude7 profile 10: the draft: its side faces are tilted about the plane it starts from
    cut_extrude7_profile_10_sides = [cut_extrude7_profile_10_tool.faces().sort_by_distance(p)[0] for p in [
        (-401.756830254, -149.25845239, 22),
        (-389.186151352, -177.931908478, 22),
        (-375.4679385, -148.724097458, 22),
        (-389.07289053, -118.258070357, 22),
    ]]
    draft(cut_extrude7_profile_10_sides, Plane.XY, CUT_EXTRUDE7_PROFILE_10_DRAFT)


with BuildPart() as part_10:
    add(part_9.part)

    # Cut-Extrude7 profile 10: cut by cut_extrude7_profile_10_tool
    add(cut_extrude7_profile_10_tool.part, mode=Mode.SUBTRACT)


with BuildPart() as cut_extrude7_profile_11_tool:
    # Sketch2 → Cut-Extrude7 profile 11 (with draft: the straight prism first)
    with BuildSketch(Plane.XY):
        with BuildLine():
            ThreePointArc((-451.900937651, -157.236681845), (-437.638328406, -166.592055335), (-421.946812766, -173.279459354))
            ThreePointArc((-421.946812766, -173.279459354), (-411.154102072, -148.156455428), (-404.715493455, -121.582177461))
            ThreePointArc((-404.715493455, -121.582177461), (-407.703322596, -114.969625992), (-414.959215643, -115.04016675))
            ThreePointArc((-414.959215643, -115.04016675), (-434.188127634, -135.474774497), (-451.900937651, -157.236681845))
        make_face()
    extrude(amount=CUT_EXTRUDE7_PROFILE_11_DEPTH)
    # Cut-Extrude7 profile 11: the draft: its side faces are tilted about the plane it starts from
    cut_extrude7_profile_11_sides = [cut_extrude7_profile_11_tool.faces().sort_by_distance(p)[0] for p in [
        (-437.638328406, -166.592055335, 22),
        (-411.154102072, -148.156455428, 22),
        (-407.703322596, -114.969625992, 22),
        (-434.188127634, -135.474774497, 22),
    ]]
    draft(cut_extrude7_profile_11_sides, Plane.XY, CUT_EXTRUDE7_PROFILE_11_DRAFT)


with BuildPart() as part_11:
    add(part_10.part)

    # Cut-Extrude7 profile 11: cut by cut_extrude7_profile_11_tool
    add(cut_extrude7_profile_11_tool.part, mode=Mode.SUBTRACT)


with BuildPart() as cut_extrude7_profile_12_tool:
    # Sketch2 → Cut-Extrude7 profile 12 (with draft: the straight prism first)
    with BuildSketch(Plane.XY):
        with BuildLine():
            ThreePointArc((-481.603313217, -117.312070184), (-473.929218032, -132.54536591), (-463.683668873, -146.182585497))
            ThreePointArc((-463.683668873, -146.182585497), (-441.775405273, -129.821781224), (-422.912267663, -110.027085726))
            ThreePointArc((-422.912267663, -110.027085726), (-422.193527867, -102.806533599), (-428.512585952, -99.239677164))
            ThreePointArc((-428.512585952, -99.239677164), (-455.382616096, -107.322110594), (-481.603313217, -117.312070184))
        make_face()
    extrude(amount=CUT_EXTRUDE7_PROFILE_12_DEPTH)
    # Cut-Extrude7 profile 12: the draft: its side faces are tilted about the plane it starts from
    cut_extrude7_profile_12_sides = [cut_extrude7_profile_12_tool.faces().sort_by_distance(p)[0] for p in [
        (-473.929218032, -132.54536591, 22),
        (-441.775405273, -129.821781224, 22),
        (-422.193527867, -102.806533599, 22),
        (-455.382616096, -107.322110594, 22),
    ]]
    draft(cut_extrude7_profile_12_sides, Plane.XY, CUT_EXTRUDE7_PROFILE_12_DRAFT)


with BuildPart() as part_12:
    add(part_11.part)

    # Cut-Extrude7 profile 12: cut by cut_extrude7_profile_12_tool
    add(cut_extrude7_profile_12_tool.part, mode=Mode.SUBTRACT)

    # Sketch3 → Cut-Extrude8 (cut)
    with BuildSketch(Plane(origin=(0, 0, 0), x_dir=(-1, 0, 0), z_dir=(0, 0, -1))):
        with Locations((392.251785838, -81.848988655)):
            Circle(SKETCH3_R)
        with Locations((392.251785838, -81.848988655)):
            Circle(SKETCH3_R_2, mode=Mode.SUBTRACT)
    extrude(amount=-CUT_EXTRUDE8_DEPTH, mode=Mode.SUBTRACT)

    # Sketch4 outside → Cut-Extrude9 (cut)
    # profile 1 of 2: a face of its own
    with BuildSketch(Plane.XY.offset(94)):
        with Locations((-394.293, -79.904)):
            Rectangle(SKETCH4_OUTSIDE_W, SKETCH4_OUTSIDE_H)
        with Locations((-394.292920308, -79.904057714)):
            Circle(SKETCH4_OUTSIDE_R, mode=Mode.SUBTRACT)
    # profile 2 of 2: a face of its own
    with BuildSketch(Plane.XY.offset(94)):
        with Locations((-394.292920308, -79.904057714)):
            Circle(SKETCH4_OUTSIDE_R_2)
    extrude(amount=-CUT_EXTRUDE9_DEPTH, mode=Mode.SUBTRACT)


solid = part_12.part
